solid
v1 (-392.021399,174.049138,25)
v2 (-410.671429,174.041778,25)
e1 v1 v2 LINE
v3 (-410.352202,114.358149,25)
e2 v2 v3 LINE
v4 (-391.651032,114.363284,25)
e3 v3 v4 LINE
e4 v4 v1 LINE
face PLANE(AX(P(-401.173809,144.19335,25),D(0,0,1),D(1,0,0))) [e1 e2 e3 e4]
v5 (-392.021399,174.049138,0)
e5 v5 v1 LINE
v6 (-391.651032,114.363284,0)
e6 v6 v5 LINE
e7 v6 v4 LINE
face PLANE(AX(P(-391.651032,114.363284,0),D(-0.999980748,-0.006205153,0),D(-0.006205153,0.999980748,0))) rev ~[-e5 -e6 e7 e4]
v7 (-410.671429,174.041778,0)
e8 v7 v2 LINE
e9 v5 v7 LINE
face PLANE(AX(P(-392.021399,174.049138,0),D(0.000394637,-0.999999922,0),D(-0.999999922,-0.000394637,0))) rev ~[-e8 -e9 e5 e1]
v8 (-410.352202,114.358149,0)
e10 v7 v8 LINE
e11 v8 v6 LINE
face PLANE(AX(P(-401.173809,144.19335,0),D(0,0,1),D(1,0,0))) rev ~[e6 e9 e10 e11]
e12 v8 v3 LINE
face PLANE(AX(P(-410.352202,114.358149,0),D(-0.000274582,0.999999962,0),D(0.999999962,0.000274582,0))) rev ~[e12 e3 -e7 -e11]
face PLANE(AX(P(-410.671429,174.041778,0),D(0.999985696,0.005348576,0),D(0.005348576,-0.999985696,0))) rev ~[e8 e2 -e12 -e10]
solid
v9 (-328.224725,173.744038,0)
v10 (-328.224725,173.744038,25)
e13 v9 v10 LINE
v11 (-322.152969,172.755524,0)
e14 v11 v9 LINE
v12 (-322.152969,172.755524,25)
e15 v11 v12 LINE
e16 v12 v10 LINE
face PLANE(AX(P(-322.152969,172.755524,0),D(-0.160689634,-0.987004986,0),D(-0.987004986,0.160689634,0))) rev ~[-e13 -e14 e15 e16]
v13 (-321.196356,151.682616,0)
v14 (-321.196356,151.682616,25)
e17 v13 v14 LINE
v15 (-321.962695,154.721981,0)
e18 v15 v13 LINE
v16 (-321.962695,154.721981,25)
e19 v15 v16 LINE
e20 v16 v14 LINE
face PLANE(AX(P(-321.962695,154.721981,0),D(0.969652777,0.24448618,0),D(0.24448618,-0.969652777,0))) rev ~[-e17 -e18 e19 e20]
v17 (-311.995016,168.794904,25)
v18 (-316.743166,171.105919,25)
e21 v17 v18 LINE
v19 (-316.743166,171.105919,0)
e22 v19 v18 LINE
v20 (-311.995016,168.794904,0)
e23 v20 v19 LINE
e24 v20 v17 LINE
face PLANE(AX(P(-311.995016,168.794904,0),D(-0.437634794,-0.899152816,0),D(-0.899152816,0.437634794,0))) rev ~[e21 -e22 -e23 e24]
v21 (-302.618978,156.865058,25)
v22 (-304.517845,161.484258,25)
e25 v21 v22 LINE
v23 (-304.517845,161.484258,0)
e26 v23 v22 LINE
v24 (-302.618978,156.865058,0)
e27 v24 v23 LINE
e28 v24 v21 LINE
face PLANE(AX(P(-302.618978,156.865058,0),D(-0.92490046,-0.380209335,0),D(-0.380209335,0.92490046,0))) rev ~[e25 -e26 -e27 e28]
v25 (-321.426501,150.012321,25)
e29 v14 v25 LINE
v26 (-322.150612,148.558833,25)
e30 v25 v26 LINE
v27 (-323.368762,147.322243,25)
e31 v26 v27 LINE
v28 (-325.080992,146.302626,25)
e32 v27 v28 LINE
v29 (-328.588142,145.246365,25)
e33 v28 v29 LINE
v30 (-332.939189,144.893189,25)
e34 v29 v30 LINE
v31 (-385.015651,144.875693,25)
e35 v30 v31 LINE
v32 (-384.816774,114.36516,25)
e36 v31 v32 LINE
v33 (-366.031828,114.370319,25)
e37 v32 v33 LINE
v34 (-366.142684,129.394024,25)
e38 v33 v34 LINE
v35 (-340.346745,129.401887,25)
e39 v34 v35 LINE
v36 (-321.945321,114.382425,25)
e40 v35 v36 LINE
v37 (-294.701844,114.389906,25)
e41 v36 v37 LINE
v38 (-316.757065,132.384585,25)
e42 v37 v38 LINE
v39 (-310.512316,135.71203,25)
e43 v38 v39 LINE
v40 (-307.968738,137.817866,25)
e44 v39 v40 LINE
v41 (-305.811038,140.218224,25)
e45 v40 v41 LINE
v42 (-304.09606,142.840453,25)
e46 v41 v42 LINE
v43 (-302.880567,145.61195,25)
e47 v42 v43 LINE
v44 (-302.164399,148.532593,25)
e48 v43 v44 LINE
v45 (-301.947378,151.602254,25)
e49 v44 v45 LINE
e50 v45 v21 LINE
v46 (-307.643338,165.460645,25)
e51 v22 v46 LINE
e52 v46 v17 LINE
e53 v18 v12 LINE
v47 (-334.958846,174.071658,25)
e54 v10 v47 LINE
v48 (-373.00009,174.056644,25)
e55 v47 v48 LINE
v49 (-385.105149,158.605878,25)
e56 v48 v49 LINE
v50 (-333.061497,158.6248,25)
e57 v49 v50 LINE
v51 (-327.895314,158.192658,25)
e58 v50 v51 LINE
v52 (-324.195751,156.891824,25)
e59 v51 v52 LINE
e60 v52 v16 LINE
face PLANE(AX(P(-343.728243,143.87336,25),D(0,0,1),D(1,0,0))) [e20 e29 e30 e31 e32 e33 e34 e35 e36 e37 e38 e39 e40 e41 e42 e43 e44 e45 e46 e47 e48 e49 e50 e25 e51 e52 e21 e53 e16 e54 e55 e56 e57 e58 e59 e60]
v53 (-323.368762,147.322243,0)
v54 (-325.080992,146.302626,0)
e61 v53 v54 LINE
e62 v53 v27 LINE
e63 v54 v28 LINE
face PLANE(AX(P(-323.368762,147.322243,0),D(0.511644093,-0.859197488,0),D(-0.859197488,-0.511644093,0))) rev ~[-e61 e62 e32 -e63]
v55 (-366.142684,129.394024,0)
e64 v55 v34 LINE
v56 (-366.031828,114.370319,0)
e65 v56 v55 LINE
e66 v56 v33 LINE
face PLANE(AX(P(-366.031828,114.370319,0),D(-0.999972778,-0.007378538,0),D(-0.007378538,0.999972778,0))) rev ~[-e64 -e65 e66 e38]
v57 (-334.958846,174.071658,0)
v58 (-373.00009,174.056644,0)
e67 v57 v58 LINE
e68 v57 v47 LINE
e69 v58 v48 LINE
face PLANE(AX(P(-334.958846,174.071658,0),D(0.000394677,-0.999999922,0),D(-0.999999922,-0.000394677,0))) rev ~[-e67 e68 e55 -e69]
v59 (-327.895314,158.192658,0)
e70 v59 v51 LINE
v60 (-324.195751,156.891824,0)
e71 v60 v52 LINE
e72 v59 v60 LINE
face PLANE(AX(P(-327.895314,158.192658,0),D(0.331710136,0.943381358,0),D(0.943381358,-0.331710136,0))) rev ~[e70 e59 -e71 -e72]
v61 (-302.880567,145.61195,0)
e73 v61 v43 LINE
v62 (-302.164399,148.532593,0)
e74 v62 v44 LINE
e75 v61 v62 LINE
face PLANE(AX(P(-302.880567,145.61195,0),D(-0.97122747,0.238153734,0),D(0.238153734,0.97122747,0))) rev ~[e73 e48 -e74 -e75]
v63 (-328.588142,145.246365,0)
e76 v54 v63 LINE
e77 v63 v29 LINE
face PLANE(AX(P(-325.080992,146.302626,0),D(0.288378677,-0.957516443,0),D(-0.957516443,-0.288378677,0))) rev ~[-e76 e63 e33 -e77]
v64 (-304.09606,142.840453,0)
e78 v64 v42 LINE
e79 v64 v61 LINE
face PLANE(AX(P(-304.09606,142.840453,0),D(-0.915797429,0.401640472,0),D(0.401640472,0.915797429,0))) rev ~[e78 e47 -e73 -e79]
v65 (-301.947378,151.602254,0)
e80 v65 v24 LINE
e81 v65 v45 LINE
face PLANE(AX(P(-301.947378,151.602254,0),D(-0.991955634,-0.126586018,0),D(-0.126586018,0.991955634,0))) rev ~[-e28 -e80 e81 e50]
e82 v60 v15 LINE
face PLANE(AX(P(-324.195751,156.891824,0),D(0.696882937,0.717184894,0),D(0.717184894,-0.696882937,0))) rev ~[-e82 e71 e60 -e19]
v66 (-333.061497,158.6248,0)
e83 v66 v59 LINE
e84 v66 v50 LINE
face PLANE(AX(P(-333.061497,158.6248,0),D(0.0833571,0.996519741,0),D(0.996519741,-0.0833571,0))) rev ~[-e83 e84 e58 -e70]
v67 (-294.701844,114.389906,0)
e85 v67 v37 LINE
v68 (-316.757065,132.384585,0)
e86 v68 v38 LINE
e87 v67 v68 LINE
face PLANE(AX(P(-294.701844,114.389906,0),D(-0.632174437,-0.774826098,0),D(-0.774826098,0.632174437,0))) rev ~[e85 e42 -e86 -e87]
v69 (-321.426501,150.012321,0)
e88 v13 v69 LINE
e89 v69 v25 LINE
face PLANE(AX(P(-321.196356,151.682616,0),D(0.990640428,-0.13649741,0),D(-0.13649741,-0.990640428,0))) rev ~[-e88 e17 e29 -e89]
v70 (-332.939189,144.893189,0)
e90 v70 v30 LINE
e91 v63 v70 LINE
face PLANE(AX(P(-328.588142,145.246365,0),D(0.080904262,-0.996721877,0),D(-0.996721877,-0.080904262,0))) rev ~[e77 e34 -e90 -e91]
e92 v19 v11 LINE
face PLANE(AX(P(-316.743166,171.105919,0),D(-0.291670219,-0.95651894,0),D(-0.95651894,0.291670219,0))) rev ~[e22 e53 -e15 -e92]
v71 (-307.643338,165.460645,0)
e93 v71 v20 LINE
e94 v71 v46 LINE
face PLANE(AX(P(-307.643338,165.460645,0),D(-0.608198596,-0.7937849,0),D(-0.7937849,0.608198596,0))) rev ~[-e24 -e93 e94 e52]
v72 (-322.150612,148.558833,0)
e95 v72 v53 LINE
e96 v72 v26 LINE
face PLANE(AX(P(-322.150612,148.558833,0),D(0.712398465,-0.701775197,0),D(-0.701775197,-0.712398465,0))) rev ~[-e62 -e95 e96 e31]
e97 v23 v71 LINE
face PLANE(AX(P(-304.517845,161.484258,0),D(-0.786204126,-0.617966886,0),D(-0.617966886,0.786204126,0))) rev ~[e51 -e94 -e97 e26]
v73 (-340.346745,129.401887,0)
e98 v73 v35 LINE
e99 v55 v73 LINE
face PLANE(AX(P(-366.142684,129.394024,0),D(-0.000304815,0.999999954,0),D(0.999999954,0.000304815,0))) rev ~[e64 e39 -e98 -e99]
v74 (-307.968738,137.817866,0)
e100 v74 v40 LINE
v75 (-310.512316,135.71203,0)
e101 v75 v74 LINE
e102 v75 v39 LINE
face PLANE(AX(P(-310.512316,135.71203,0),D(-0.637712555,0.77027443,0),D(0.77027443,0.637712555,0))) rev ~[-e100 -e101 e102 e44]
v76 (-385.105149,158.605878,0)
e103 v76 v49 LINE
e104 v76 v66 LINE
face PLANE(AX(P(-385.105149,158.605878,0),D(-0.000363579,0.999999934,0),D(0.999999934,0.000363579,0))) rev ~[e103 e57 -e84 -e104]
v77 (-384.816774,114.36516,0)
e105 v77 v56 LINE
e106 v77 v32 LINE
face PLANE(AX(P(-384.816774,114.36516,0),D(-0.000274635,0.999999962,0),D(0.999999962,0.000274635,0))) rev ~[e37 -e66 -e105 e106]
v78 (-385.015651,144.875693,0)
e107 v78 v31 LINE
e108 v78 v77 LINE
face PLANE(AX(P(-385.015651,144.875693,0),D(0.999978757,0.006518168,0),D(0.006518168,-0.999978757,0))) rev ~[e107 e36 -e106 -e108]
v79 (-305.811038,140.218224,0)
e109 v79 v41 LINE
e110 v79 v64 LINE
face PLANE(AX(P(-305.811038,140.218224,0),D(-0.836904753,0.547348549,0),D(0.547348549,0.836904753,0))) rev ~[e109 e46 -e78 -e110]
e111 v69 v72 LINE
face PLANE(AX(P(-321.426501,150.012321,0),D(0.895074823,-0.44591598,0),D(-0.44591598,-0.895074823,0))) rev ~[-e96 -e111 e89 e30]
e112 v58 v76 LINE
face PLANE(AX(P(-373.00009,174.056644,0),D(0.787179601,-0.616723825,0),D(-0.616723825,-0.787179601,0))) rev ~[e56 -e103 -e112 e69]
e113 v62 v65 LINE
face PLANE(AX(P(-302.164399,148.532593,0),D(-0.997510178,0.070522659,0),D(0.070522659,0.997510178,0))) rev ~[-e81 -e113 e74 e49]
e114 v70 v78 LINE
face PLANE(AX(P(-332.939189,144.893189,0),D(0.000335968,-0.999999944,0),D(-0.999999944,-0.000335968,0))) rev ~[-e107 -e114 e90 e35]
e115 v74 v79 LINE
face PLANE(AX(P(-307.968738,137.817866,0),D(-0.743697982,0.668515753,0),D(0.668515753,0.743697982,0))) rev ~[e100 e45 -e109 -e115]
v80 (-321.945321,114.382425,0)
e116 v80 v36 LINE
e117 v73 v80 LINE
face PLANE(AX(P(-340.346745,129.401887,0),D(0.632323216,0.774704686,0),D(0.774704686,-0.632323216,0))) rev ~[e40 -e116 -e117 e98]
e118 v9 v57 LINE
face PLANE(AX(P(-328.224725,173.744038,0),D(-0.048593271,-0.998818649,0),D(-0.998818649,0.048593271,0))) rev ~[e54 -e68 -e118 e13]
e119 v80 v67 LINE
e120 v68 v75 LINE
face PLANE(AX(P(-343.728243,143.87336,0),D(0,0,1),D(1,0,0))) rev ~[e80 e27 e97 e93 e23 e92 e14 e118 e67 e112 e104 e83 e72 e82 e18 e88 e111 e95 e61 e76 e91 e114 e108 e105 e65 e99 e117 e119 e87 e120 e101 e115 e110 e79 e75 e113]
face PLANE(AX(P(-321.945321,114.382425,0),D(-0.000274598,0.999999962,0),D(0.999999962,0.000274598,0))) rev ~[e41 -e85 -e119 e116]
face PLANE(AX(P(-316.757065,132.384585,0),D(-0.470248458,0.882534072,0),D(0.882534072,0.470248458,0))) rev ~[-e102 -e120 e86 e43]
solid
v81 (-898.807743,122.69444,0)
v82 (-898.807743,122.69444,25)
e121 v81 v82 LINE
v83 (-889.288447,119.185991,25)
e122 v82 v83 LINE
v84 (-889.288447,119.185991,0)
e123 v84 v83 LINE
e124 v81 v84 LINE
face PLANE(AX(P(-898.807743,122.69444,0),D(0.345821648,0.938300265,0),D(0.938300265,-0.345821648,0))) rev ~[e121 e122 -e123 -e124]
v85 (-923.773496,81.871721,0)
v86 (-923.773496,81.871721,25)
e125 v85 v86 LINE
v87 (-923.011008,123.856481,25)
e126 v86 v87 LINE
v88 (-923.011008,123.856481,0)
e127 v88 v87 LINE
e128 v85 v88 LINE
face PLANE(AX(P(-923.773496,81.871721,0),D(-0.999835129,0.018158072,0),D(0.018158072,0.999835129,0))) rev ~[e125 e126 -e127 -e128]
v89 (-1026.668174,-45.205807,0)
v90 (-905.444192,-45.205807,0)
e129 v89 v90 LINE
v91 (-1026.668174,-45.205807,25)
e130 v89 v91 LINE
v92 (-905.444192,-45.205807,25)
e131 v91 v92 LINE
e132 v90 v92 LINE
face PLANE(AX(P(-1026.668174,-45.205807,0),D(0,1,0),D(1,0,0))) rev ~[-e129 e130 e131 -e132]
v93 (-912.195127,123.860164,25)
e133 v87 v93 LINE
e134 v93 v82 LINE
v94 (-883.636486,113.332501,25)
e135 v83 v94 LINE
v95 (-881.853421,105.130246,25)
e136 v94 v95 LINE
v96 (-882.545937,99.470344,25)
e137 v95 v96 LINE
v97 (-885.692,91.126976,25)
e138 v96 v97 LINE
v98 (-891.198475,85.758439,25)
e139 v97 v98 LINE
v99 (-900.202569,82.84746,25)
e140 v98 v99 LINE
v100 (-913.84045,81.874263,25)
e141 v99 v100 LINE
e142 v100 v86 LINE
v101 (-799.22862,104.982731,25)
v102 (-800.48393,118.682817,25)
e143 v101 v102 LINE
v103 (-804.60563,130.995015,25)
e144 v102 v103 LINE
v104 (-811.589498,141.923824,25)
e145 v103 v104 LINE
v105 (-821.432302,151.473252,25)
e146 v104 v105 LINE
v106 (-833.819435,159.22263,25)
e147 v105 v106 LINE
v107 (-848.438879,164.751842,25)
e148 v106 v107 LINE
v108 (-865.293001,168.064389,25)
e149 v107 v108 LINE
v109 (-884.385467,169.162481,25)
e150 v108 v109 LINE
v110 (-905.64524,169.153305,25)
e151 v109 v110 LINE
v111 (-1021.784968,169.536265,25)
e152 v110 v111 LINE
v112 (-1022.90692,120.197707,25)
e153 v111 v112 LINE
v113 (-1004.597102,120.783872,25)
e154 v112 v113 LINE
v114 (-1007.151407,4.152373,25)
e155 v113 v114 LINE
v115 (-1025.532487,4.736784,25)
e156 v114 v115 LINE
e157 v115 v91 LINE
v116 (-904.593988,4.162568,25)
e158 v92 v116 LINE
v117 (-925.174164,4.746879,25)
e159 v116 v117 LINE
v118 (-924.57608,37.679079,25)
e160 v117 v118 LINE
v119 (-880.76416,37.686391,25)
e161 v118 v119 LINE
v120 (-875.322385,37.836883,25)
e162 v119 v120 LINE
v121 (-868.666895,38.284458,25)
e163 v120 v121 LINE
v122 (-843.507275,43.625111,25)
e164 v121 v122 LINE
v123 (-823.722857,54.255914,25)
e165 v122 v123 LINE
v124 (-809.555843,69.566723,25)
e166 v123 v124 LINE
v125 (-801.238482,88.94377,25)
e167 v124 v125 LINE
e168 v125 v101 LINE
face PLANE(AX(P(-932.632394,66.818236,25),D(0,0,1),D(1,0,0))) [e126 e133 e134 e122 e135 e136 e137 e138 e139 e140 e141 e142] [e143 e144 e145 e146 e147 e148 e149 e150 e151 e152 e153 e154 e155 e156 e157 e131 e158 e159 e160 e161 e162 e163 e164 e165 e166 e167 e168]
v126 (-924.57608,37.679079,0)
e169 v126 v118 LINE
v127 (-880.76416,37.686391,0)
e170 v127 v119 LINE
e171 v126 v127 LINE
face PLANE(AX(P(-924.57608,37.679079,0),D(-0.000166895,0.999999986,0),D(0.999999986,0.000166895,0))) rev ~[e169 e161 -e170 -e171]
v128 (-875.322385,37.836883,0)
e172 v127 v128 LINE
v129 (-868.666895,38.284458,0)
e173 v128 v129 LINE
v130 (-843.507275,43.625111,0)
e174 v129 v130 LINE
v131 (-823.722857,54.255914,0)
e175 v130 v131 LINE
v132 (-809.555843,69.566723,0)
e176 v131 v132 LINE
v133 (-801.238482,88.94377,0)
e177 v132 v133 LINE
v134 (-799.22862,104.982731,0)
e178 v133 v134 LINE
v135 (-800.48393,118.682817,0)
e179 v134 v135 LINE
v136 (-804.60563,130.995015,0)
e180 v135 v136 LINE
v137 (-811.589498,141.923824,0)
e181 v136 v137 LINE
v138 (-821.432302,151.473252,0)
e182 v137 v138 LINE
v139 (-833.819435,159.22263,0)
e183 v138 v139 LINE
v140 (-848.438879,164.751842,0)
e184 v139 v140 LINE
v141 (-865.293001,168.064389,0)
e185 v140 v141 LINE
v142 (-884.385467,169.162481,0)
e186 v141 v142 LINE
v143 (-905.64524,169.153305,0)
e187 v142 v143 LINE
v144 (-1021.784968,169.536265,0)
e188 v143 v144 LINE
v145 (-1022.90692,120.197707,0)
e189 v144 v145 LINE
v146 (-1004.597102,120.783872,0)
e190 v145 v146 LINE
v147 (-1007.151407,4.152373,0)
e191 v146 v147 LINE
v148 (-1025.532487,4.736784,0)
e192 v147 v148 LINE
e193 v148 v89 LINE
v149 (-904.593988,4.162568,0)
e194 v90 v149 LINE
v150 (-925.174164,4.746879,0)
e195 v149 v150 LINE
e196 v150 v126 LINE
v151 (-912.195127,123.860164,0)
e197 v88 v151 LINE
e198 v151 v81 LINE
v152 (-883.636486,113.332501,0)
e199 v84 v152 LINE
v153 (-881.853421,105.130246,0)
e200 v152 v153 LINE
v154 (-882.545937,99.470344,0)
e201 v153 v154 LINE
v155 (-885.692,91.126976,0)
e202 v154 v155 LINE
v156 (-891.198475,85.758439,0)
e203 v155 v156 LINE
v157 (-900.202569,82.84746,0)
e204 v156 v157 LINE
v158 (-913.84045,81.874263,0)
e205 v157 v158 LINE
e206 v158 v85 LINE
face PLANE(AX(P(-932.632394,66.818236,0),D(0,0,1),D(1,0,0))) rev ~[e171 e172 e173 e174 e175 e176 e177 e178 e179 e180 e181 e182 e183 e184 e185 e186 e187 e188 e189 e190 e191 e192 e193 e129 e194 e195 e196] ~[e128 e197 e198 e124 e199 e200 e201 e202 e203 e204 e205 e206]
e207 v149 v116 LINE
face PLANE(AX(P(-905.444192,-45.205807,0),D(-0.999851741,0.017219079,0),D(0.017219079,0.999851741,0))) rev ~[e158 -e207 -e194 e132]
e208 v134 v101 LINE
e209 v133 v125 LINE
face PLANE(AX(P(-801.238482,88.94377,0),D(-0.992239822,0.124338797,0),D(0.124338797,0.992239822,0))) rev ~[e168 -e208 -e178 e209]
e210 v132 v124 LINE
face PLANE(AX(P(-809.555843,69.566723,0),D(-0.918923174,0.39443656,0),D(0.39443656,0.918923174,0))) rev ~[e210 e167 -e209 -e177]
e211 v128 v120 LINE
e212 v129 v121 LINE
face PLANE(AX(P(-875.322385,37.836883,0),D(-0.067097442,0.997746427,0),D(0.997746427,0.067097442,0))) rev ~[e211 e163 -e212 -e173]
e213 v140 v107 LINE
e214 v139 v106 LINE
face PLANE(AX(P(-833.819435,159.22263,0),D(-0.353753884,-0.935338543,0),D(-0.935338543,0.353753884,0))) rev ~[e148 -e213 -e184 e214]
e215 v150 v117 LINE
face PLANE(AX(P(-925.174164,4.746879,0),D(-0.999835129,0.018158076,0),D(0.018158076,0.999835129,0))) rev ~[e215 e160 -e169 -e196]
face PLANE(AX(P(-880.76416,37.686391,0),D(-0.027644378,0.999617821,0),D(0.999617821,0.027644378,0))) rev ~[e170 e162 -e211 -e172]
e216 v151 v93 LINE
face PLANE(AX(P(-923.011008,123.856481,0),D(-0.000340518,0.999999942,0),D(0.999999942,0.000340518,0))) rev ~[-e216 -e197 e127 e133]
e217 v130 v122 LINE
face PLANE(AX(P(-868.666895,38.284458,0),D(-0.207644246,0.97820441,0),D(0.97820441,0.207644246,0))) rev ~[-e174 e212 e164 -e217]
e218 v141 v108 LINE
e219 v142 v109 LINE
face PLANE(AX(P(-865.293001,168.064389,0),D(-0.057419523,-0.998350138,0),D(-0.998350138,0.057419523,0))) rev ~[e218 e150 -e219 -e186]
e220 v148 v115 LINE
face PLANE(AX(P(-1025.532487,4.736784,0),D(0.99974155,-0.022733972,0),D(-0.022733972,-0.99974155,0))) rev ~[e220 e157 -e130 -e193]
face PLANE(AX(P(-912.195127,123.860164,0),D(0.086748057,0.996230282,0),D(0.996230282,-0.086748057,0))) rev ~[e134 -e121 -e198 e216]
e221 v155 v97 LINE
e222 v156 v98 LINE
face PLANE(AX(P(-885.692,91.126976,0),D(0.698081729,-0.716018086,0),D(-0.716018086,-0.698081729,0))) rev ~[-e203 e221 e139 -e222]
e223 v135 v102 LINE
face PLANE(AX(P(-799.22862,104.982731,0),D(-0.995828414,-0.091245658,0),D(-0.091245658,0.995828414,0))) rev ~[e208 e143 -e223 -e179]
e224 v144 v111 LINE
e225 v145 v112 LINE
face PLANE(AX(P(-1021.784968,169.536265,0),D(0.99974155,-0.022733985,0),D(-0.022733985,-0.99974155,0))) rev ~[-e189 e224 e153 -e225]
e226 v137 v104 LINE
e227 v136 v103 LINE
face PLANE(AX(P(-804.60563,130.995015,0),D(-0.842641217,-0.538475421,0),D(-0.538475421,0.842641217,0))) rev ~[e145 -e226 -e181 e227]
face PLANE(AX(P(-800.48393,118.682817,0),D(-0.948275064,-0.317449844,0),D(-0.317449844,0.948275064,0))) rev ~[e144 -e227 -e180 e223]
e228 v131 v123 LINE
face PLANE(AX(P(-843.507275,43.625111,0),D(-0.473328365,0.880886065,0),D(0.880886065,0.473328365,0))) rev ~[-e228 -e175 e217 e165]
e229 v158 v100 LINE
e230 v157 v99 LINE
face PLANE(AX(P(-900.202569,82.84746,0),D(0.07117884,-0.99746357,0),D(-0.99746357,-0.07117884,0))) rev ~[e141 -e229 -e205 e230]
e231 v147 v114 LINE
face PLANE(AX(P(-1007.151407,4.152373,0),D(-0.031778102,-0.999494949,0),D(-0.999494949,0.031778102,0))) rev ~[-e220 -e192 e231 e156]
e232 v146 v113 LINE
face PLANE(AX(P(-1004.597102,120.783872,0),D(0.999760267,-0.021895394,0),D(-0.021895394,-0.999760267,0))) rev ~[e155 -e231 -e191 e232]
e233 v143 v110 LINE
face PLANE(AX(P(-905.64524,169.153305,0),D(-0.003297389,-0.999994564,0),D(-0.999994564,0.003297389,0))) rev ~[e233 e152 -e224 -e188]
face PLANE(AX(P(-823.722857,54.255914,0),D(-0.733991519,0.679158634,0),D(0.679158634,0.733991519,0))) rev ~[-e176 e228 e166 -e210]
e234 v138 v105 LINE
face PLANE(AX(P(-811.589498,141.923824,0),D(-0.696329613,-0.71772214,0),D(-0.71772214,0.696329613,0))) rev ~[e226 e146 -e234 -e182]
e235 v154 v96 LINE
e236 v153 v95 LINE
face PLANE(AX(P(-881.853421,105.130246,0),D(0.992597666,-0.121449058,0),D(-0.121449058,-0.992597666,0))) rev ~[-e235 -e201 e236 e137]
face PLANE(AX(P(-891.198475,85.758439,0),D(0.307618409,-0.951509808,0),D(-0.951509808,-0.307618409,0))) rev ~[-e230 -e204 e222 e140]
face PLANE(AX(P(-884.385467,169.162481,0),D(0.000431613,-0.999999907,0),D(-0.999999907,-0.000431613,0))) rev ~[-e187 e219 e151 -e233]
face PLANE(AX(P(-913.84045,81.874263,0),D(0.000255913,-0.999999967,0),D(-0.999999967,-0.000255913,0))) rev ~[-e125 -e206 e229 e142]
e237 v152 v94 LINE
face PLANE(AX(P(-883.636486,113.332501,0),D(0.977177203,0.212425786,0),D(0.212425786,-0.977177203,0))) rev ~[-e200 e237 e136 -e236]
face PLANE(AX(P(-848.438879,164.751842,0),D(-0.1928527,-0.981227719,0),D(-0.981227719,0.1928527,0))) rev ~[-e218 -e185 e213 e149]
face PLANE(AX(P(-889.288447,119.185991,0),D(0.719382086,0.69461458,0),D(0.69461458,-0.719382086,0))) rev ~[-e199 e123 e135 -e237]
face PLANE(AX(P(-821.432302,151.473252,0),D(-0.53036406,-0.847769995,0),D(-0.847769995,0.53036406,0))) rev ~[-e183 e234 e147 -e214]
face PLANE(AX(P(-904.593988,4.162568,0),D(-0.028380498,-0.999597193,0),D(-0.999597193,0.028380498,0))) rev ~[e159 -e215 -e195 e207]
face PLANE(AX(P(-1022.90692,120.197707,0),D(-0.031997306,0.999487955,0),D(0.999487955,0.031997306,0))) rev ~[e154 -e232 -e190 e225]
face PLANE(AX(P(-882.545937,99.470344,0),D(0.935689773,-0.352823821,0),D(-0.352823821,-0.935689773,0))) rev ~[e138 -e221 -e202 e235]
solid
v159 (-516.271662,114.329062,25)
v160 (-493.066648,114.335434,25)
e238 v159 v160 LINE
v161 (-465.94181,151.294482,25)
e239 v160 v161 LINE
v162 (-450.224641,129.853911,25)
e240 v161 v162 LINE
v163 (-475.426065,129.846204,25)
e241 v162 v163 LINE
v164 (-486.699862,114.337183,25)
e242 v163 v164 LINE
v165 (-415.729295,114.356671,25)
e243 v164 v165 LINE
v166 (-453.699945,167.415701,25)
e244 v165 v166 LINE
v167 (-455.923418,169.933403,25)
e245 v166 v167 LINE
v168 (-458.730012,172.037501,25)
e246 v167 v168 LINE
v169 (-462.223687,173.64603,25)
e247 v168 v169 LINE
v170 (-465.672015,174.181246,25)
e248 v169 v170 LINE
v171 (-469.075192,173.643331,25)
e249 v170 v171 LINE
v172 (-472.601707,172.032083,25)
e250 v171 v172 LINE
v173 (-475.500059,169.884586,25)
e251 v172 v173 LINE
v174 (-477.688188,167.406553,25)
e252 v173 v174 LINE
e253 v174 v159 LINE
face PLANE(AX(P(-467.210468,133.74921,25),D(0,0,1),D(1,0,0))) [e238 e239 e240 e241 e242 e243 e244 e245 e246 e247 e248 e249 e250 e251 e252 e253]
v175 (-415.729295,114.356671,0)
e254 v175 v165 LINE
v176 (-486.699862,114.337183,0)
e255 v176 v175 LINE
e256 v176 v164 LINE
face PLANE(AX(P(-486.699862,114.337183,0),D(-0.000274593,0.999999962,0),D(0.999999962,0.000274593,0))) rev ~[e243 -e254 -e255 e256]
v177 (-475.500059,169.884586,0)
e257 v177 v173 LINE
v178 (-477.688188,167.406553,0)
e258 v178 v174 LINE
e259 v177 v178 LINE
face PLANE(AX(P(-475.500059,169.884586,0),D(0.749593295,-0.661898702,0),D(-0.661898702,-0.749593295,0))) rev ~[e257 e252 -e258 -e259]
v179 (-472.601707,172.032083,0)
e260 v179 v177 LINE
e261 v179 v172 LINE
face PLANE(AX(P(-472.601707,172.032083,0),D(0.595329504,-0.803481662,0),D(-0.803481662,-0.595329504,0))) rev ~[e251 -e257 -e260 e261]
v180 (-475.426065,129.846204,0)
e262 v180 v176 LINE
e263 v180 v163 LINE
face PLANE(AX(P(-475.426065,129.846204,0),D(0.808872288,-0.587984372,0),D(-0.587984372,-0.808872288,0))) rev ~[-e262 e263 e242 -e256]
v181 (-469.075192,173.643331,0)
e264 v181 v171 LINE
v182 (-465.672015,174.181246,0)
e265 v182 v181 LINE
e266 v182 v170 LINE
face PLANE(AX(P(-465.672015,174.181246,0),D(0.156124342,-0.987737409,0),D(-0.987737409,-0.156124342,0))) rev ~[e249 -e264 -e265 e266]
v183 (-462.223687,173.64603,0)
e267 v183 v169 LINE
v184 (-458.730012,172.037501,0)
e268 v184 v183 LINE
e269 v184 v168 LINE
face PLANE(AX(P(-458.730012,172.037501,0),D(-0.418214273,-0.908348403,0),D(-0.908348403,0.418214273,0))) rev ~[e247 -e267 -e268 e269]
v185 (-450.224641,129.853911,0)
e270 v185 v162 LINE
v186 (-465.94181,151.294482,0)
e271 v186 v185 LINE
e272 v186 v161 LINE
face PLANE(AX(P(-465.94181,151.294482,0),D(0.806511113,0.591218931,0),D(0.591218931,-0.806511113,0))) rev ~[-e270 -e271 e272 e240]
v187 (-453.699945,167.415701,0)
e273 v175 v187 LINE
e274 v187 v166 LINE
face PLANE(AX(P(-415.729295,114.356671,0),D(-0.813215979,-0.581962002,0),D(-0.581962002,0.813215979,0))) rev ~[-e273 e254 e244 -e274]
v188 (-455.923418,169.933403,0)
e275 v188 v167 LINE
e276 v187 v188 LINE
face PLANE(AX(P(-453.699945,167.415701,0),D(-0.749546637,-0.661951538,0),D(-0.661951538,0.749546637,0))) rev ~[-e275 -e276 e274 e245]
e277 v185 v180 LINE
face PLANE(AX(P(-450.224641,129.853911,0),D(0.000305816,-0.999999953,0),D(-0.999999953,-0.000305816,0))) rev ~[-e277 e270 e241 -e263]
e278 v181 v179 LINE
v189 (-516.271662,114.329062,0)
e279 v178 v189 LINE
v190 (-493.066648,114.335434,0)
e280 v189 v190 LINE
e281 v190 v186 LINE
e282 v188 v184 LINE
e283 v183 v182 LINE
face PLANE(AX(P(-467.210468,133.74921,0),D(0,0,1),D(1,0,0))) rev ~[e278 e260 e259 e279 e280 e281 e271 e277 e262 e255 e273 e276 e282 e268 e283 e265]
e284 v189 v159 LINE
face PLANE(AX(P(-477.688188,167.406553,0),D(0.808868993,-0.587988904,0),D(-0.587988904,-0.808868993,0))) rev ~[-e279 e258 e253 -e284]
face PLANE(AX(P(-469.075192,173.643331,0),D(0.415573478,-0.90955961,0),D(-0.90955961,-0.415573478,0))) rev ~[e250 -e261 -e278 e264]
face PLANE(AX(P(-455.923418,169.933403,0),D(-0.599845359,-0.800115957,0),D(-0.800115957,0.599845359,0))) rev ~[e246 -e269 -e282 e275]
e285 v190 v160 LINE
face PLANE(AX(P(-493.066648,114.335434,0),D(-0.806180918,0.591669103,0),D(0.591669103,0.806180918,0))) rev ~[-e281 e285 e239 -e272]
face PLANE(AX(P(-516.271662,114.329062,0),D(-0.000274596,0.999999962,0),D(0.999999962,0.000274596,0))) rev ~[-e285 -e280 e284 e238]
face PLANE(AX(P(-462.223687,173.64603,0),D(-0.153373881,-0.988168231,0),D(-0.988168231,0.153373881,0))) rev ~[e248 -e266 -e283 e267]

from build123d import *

# Parameters (mm, degrees)
F1_DEPTH = 25


with BuildPart() as f1:
    # F0 (on Top) → F1 (new body)
    with BuildSketch(Plane.XY):
        Polygon((-1007.151407, 4.152373), (-1025.532487, 4.736784), (-1026.668174, -45.205807), (-905.444192, -45.205807), (-904.593988, 4.162568), (-925.174164, 4.746879), (-924.57608, 37.679079), (-880.76416, 37.686391), (-875.322385, 37.836883), (-868.666895, 38.284458), (-843.507275, 43.625111), (-823.722857, 54.255914), (-809.555843, 69.566723), (-801.238482, 88.94377), (-799.22862, 104.982731), (-800.48393, 118.682817), (-804.60563, 130.995015), (-811.589498, 141.923824), (-821.432302, 151.473252), (-833.819435, 159.22263), (-848.438879, 164.751842), (-865.293001, 168.064389), (-884.385467, 169.162481), (-905.64524, 169.153305), (-1021.784968, 169.536265), (-1022.90692, 120.197707), (-1004.597102, 120.783872), align=None)
        Polygon((-900.202569, 82.84746), (-913.84045, 81.874263), (-923.773496, 81.871721), (-923.011008, 123.856481), (-912.195127, 123.860164), (-898.807743, 122.69444), (-889.288447, 119.185991), (-883.636486, 113.332501), (-881.853421, 105.130246), (-882.545937, 99.470344), (-885.692, 91.126976), (-891.198475, 85.758439), align=None, mode=Mode.SUBTRACT)
        Polygon((-475.426065, 129.846204), (-486.699862, 114.337183), (-415.729295, 114.356671), (-453.699945, 167.415701), (-455.923418, 169.933403), (-458.730012, 172.037501), (-462.223687, 173.64603), (-465.672015, 174.181246), (-469.075192, 173.643331), (-472.601707, 172.032083), (-475.500059, 169.884586), (-477.688188, 167.406553), (-516.271662, 114.329062), (-493.066648, 114.335434), (-465.94181, 151.294482), (-450.224641, 129.853911), align=None)
        Polygon((-410.352202, 114.358149), (-391.651032, 114.363284), (-392.021399, 174.049138), (-410.671429, 174.041778), align=None)
        Polygon((-321.945321, 114.382425), (-294.701844, 114.389906), (-316.757065, 132.384585), (-310.512316, 135.71203), (-307.968738, 137.817866), (-305.811038, 140.218224), (-304.09606, 142.840453), (-302.880567, 145.61195), (-302.164399, 148.532593), (-301.947378, 151.602254), (-302.618978, 156.865058), (-304.517845, 161.484258), (-307.643338, 165.460645), (-311.995016, 168.794904), (-316.743166, 171.105919), (-322.152969, 172.755524), (-328.224725, 173.744038), (-334.958846, 174.071658), (-373.00009, 174.056644), (-385.105149, 158.605878), (-333.061497, 158.6248), (-327.895314, 158.192658), (-324.195751, 156.891824), (-321.962695, 154.721981), (-321.196356, 151.682616), (-321.426501, 150.012321), (-322.150612, 148.558833), (-323.368762, 147.322243), (-325.080992, 146.302626), (-328.588142, 145.246365), (-332.939189, 144.893189), (-385.015651, 144.875693), (-384.816774, 114.36516), (-366.031828, 114.370319), (-366.142684, 129.394024), (-340.346745, 129.401887), align=None)
    extrude(amount=F1_DEPTH)


solid = f1.part
